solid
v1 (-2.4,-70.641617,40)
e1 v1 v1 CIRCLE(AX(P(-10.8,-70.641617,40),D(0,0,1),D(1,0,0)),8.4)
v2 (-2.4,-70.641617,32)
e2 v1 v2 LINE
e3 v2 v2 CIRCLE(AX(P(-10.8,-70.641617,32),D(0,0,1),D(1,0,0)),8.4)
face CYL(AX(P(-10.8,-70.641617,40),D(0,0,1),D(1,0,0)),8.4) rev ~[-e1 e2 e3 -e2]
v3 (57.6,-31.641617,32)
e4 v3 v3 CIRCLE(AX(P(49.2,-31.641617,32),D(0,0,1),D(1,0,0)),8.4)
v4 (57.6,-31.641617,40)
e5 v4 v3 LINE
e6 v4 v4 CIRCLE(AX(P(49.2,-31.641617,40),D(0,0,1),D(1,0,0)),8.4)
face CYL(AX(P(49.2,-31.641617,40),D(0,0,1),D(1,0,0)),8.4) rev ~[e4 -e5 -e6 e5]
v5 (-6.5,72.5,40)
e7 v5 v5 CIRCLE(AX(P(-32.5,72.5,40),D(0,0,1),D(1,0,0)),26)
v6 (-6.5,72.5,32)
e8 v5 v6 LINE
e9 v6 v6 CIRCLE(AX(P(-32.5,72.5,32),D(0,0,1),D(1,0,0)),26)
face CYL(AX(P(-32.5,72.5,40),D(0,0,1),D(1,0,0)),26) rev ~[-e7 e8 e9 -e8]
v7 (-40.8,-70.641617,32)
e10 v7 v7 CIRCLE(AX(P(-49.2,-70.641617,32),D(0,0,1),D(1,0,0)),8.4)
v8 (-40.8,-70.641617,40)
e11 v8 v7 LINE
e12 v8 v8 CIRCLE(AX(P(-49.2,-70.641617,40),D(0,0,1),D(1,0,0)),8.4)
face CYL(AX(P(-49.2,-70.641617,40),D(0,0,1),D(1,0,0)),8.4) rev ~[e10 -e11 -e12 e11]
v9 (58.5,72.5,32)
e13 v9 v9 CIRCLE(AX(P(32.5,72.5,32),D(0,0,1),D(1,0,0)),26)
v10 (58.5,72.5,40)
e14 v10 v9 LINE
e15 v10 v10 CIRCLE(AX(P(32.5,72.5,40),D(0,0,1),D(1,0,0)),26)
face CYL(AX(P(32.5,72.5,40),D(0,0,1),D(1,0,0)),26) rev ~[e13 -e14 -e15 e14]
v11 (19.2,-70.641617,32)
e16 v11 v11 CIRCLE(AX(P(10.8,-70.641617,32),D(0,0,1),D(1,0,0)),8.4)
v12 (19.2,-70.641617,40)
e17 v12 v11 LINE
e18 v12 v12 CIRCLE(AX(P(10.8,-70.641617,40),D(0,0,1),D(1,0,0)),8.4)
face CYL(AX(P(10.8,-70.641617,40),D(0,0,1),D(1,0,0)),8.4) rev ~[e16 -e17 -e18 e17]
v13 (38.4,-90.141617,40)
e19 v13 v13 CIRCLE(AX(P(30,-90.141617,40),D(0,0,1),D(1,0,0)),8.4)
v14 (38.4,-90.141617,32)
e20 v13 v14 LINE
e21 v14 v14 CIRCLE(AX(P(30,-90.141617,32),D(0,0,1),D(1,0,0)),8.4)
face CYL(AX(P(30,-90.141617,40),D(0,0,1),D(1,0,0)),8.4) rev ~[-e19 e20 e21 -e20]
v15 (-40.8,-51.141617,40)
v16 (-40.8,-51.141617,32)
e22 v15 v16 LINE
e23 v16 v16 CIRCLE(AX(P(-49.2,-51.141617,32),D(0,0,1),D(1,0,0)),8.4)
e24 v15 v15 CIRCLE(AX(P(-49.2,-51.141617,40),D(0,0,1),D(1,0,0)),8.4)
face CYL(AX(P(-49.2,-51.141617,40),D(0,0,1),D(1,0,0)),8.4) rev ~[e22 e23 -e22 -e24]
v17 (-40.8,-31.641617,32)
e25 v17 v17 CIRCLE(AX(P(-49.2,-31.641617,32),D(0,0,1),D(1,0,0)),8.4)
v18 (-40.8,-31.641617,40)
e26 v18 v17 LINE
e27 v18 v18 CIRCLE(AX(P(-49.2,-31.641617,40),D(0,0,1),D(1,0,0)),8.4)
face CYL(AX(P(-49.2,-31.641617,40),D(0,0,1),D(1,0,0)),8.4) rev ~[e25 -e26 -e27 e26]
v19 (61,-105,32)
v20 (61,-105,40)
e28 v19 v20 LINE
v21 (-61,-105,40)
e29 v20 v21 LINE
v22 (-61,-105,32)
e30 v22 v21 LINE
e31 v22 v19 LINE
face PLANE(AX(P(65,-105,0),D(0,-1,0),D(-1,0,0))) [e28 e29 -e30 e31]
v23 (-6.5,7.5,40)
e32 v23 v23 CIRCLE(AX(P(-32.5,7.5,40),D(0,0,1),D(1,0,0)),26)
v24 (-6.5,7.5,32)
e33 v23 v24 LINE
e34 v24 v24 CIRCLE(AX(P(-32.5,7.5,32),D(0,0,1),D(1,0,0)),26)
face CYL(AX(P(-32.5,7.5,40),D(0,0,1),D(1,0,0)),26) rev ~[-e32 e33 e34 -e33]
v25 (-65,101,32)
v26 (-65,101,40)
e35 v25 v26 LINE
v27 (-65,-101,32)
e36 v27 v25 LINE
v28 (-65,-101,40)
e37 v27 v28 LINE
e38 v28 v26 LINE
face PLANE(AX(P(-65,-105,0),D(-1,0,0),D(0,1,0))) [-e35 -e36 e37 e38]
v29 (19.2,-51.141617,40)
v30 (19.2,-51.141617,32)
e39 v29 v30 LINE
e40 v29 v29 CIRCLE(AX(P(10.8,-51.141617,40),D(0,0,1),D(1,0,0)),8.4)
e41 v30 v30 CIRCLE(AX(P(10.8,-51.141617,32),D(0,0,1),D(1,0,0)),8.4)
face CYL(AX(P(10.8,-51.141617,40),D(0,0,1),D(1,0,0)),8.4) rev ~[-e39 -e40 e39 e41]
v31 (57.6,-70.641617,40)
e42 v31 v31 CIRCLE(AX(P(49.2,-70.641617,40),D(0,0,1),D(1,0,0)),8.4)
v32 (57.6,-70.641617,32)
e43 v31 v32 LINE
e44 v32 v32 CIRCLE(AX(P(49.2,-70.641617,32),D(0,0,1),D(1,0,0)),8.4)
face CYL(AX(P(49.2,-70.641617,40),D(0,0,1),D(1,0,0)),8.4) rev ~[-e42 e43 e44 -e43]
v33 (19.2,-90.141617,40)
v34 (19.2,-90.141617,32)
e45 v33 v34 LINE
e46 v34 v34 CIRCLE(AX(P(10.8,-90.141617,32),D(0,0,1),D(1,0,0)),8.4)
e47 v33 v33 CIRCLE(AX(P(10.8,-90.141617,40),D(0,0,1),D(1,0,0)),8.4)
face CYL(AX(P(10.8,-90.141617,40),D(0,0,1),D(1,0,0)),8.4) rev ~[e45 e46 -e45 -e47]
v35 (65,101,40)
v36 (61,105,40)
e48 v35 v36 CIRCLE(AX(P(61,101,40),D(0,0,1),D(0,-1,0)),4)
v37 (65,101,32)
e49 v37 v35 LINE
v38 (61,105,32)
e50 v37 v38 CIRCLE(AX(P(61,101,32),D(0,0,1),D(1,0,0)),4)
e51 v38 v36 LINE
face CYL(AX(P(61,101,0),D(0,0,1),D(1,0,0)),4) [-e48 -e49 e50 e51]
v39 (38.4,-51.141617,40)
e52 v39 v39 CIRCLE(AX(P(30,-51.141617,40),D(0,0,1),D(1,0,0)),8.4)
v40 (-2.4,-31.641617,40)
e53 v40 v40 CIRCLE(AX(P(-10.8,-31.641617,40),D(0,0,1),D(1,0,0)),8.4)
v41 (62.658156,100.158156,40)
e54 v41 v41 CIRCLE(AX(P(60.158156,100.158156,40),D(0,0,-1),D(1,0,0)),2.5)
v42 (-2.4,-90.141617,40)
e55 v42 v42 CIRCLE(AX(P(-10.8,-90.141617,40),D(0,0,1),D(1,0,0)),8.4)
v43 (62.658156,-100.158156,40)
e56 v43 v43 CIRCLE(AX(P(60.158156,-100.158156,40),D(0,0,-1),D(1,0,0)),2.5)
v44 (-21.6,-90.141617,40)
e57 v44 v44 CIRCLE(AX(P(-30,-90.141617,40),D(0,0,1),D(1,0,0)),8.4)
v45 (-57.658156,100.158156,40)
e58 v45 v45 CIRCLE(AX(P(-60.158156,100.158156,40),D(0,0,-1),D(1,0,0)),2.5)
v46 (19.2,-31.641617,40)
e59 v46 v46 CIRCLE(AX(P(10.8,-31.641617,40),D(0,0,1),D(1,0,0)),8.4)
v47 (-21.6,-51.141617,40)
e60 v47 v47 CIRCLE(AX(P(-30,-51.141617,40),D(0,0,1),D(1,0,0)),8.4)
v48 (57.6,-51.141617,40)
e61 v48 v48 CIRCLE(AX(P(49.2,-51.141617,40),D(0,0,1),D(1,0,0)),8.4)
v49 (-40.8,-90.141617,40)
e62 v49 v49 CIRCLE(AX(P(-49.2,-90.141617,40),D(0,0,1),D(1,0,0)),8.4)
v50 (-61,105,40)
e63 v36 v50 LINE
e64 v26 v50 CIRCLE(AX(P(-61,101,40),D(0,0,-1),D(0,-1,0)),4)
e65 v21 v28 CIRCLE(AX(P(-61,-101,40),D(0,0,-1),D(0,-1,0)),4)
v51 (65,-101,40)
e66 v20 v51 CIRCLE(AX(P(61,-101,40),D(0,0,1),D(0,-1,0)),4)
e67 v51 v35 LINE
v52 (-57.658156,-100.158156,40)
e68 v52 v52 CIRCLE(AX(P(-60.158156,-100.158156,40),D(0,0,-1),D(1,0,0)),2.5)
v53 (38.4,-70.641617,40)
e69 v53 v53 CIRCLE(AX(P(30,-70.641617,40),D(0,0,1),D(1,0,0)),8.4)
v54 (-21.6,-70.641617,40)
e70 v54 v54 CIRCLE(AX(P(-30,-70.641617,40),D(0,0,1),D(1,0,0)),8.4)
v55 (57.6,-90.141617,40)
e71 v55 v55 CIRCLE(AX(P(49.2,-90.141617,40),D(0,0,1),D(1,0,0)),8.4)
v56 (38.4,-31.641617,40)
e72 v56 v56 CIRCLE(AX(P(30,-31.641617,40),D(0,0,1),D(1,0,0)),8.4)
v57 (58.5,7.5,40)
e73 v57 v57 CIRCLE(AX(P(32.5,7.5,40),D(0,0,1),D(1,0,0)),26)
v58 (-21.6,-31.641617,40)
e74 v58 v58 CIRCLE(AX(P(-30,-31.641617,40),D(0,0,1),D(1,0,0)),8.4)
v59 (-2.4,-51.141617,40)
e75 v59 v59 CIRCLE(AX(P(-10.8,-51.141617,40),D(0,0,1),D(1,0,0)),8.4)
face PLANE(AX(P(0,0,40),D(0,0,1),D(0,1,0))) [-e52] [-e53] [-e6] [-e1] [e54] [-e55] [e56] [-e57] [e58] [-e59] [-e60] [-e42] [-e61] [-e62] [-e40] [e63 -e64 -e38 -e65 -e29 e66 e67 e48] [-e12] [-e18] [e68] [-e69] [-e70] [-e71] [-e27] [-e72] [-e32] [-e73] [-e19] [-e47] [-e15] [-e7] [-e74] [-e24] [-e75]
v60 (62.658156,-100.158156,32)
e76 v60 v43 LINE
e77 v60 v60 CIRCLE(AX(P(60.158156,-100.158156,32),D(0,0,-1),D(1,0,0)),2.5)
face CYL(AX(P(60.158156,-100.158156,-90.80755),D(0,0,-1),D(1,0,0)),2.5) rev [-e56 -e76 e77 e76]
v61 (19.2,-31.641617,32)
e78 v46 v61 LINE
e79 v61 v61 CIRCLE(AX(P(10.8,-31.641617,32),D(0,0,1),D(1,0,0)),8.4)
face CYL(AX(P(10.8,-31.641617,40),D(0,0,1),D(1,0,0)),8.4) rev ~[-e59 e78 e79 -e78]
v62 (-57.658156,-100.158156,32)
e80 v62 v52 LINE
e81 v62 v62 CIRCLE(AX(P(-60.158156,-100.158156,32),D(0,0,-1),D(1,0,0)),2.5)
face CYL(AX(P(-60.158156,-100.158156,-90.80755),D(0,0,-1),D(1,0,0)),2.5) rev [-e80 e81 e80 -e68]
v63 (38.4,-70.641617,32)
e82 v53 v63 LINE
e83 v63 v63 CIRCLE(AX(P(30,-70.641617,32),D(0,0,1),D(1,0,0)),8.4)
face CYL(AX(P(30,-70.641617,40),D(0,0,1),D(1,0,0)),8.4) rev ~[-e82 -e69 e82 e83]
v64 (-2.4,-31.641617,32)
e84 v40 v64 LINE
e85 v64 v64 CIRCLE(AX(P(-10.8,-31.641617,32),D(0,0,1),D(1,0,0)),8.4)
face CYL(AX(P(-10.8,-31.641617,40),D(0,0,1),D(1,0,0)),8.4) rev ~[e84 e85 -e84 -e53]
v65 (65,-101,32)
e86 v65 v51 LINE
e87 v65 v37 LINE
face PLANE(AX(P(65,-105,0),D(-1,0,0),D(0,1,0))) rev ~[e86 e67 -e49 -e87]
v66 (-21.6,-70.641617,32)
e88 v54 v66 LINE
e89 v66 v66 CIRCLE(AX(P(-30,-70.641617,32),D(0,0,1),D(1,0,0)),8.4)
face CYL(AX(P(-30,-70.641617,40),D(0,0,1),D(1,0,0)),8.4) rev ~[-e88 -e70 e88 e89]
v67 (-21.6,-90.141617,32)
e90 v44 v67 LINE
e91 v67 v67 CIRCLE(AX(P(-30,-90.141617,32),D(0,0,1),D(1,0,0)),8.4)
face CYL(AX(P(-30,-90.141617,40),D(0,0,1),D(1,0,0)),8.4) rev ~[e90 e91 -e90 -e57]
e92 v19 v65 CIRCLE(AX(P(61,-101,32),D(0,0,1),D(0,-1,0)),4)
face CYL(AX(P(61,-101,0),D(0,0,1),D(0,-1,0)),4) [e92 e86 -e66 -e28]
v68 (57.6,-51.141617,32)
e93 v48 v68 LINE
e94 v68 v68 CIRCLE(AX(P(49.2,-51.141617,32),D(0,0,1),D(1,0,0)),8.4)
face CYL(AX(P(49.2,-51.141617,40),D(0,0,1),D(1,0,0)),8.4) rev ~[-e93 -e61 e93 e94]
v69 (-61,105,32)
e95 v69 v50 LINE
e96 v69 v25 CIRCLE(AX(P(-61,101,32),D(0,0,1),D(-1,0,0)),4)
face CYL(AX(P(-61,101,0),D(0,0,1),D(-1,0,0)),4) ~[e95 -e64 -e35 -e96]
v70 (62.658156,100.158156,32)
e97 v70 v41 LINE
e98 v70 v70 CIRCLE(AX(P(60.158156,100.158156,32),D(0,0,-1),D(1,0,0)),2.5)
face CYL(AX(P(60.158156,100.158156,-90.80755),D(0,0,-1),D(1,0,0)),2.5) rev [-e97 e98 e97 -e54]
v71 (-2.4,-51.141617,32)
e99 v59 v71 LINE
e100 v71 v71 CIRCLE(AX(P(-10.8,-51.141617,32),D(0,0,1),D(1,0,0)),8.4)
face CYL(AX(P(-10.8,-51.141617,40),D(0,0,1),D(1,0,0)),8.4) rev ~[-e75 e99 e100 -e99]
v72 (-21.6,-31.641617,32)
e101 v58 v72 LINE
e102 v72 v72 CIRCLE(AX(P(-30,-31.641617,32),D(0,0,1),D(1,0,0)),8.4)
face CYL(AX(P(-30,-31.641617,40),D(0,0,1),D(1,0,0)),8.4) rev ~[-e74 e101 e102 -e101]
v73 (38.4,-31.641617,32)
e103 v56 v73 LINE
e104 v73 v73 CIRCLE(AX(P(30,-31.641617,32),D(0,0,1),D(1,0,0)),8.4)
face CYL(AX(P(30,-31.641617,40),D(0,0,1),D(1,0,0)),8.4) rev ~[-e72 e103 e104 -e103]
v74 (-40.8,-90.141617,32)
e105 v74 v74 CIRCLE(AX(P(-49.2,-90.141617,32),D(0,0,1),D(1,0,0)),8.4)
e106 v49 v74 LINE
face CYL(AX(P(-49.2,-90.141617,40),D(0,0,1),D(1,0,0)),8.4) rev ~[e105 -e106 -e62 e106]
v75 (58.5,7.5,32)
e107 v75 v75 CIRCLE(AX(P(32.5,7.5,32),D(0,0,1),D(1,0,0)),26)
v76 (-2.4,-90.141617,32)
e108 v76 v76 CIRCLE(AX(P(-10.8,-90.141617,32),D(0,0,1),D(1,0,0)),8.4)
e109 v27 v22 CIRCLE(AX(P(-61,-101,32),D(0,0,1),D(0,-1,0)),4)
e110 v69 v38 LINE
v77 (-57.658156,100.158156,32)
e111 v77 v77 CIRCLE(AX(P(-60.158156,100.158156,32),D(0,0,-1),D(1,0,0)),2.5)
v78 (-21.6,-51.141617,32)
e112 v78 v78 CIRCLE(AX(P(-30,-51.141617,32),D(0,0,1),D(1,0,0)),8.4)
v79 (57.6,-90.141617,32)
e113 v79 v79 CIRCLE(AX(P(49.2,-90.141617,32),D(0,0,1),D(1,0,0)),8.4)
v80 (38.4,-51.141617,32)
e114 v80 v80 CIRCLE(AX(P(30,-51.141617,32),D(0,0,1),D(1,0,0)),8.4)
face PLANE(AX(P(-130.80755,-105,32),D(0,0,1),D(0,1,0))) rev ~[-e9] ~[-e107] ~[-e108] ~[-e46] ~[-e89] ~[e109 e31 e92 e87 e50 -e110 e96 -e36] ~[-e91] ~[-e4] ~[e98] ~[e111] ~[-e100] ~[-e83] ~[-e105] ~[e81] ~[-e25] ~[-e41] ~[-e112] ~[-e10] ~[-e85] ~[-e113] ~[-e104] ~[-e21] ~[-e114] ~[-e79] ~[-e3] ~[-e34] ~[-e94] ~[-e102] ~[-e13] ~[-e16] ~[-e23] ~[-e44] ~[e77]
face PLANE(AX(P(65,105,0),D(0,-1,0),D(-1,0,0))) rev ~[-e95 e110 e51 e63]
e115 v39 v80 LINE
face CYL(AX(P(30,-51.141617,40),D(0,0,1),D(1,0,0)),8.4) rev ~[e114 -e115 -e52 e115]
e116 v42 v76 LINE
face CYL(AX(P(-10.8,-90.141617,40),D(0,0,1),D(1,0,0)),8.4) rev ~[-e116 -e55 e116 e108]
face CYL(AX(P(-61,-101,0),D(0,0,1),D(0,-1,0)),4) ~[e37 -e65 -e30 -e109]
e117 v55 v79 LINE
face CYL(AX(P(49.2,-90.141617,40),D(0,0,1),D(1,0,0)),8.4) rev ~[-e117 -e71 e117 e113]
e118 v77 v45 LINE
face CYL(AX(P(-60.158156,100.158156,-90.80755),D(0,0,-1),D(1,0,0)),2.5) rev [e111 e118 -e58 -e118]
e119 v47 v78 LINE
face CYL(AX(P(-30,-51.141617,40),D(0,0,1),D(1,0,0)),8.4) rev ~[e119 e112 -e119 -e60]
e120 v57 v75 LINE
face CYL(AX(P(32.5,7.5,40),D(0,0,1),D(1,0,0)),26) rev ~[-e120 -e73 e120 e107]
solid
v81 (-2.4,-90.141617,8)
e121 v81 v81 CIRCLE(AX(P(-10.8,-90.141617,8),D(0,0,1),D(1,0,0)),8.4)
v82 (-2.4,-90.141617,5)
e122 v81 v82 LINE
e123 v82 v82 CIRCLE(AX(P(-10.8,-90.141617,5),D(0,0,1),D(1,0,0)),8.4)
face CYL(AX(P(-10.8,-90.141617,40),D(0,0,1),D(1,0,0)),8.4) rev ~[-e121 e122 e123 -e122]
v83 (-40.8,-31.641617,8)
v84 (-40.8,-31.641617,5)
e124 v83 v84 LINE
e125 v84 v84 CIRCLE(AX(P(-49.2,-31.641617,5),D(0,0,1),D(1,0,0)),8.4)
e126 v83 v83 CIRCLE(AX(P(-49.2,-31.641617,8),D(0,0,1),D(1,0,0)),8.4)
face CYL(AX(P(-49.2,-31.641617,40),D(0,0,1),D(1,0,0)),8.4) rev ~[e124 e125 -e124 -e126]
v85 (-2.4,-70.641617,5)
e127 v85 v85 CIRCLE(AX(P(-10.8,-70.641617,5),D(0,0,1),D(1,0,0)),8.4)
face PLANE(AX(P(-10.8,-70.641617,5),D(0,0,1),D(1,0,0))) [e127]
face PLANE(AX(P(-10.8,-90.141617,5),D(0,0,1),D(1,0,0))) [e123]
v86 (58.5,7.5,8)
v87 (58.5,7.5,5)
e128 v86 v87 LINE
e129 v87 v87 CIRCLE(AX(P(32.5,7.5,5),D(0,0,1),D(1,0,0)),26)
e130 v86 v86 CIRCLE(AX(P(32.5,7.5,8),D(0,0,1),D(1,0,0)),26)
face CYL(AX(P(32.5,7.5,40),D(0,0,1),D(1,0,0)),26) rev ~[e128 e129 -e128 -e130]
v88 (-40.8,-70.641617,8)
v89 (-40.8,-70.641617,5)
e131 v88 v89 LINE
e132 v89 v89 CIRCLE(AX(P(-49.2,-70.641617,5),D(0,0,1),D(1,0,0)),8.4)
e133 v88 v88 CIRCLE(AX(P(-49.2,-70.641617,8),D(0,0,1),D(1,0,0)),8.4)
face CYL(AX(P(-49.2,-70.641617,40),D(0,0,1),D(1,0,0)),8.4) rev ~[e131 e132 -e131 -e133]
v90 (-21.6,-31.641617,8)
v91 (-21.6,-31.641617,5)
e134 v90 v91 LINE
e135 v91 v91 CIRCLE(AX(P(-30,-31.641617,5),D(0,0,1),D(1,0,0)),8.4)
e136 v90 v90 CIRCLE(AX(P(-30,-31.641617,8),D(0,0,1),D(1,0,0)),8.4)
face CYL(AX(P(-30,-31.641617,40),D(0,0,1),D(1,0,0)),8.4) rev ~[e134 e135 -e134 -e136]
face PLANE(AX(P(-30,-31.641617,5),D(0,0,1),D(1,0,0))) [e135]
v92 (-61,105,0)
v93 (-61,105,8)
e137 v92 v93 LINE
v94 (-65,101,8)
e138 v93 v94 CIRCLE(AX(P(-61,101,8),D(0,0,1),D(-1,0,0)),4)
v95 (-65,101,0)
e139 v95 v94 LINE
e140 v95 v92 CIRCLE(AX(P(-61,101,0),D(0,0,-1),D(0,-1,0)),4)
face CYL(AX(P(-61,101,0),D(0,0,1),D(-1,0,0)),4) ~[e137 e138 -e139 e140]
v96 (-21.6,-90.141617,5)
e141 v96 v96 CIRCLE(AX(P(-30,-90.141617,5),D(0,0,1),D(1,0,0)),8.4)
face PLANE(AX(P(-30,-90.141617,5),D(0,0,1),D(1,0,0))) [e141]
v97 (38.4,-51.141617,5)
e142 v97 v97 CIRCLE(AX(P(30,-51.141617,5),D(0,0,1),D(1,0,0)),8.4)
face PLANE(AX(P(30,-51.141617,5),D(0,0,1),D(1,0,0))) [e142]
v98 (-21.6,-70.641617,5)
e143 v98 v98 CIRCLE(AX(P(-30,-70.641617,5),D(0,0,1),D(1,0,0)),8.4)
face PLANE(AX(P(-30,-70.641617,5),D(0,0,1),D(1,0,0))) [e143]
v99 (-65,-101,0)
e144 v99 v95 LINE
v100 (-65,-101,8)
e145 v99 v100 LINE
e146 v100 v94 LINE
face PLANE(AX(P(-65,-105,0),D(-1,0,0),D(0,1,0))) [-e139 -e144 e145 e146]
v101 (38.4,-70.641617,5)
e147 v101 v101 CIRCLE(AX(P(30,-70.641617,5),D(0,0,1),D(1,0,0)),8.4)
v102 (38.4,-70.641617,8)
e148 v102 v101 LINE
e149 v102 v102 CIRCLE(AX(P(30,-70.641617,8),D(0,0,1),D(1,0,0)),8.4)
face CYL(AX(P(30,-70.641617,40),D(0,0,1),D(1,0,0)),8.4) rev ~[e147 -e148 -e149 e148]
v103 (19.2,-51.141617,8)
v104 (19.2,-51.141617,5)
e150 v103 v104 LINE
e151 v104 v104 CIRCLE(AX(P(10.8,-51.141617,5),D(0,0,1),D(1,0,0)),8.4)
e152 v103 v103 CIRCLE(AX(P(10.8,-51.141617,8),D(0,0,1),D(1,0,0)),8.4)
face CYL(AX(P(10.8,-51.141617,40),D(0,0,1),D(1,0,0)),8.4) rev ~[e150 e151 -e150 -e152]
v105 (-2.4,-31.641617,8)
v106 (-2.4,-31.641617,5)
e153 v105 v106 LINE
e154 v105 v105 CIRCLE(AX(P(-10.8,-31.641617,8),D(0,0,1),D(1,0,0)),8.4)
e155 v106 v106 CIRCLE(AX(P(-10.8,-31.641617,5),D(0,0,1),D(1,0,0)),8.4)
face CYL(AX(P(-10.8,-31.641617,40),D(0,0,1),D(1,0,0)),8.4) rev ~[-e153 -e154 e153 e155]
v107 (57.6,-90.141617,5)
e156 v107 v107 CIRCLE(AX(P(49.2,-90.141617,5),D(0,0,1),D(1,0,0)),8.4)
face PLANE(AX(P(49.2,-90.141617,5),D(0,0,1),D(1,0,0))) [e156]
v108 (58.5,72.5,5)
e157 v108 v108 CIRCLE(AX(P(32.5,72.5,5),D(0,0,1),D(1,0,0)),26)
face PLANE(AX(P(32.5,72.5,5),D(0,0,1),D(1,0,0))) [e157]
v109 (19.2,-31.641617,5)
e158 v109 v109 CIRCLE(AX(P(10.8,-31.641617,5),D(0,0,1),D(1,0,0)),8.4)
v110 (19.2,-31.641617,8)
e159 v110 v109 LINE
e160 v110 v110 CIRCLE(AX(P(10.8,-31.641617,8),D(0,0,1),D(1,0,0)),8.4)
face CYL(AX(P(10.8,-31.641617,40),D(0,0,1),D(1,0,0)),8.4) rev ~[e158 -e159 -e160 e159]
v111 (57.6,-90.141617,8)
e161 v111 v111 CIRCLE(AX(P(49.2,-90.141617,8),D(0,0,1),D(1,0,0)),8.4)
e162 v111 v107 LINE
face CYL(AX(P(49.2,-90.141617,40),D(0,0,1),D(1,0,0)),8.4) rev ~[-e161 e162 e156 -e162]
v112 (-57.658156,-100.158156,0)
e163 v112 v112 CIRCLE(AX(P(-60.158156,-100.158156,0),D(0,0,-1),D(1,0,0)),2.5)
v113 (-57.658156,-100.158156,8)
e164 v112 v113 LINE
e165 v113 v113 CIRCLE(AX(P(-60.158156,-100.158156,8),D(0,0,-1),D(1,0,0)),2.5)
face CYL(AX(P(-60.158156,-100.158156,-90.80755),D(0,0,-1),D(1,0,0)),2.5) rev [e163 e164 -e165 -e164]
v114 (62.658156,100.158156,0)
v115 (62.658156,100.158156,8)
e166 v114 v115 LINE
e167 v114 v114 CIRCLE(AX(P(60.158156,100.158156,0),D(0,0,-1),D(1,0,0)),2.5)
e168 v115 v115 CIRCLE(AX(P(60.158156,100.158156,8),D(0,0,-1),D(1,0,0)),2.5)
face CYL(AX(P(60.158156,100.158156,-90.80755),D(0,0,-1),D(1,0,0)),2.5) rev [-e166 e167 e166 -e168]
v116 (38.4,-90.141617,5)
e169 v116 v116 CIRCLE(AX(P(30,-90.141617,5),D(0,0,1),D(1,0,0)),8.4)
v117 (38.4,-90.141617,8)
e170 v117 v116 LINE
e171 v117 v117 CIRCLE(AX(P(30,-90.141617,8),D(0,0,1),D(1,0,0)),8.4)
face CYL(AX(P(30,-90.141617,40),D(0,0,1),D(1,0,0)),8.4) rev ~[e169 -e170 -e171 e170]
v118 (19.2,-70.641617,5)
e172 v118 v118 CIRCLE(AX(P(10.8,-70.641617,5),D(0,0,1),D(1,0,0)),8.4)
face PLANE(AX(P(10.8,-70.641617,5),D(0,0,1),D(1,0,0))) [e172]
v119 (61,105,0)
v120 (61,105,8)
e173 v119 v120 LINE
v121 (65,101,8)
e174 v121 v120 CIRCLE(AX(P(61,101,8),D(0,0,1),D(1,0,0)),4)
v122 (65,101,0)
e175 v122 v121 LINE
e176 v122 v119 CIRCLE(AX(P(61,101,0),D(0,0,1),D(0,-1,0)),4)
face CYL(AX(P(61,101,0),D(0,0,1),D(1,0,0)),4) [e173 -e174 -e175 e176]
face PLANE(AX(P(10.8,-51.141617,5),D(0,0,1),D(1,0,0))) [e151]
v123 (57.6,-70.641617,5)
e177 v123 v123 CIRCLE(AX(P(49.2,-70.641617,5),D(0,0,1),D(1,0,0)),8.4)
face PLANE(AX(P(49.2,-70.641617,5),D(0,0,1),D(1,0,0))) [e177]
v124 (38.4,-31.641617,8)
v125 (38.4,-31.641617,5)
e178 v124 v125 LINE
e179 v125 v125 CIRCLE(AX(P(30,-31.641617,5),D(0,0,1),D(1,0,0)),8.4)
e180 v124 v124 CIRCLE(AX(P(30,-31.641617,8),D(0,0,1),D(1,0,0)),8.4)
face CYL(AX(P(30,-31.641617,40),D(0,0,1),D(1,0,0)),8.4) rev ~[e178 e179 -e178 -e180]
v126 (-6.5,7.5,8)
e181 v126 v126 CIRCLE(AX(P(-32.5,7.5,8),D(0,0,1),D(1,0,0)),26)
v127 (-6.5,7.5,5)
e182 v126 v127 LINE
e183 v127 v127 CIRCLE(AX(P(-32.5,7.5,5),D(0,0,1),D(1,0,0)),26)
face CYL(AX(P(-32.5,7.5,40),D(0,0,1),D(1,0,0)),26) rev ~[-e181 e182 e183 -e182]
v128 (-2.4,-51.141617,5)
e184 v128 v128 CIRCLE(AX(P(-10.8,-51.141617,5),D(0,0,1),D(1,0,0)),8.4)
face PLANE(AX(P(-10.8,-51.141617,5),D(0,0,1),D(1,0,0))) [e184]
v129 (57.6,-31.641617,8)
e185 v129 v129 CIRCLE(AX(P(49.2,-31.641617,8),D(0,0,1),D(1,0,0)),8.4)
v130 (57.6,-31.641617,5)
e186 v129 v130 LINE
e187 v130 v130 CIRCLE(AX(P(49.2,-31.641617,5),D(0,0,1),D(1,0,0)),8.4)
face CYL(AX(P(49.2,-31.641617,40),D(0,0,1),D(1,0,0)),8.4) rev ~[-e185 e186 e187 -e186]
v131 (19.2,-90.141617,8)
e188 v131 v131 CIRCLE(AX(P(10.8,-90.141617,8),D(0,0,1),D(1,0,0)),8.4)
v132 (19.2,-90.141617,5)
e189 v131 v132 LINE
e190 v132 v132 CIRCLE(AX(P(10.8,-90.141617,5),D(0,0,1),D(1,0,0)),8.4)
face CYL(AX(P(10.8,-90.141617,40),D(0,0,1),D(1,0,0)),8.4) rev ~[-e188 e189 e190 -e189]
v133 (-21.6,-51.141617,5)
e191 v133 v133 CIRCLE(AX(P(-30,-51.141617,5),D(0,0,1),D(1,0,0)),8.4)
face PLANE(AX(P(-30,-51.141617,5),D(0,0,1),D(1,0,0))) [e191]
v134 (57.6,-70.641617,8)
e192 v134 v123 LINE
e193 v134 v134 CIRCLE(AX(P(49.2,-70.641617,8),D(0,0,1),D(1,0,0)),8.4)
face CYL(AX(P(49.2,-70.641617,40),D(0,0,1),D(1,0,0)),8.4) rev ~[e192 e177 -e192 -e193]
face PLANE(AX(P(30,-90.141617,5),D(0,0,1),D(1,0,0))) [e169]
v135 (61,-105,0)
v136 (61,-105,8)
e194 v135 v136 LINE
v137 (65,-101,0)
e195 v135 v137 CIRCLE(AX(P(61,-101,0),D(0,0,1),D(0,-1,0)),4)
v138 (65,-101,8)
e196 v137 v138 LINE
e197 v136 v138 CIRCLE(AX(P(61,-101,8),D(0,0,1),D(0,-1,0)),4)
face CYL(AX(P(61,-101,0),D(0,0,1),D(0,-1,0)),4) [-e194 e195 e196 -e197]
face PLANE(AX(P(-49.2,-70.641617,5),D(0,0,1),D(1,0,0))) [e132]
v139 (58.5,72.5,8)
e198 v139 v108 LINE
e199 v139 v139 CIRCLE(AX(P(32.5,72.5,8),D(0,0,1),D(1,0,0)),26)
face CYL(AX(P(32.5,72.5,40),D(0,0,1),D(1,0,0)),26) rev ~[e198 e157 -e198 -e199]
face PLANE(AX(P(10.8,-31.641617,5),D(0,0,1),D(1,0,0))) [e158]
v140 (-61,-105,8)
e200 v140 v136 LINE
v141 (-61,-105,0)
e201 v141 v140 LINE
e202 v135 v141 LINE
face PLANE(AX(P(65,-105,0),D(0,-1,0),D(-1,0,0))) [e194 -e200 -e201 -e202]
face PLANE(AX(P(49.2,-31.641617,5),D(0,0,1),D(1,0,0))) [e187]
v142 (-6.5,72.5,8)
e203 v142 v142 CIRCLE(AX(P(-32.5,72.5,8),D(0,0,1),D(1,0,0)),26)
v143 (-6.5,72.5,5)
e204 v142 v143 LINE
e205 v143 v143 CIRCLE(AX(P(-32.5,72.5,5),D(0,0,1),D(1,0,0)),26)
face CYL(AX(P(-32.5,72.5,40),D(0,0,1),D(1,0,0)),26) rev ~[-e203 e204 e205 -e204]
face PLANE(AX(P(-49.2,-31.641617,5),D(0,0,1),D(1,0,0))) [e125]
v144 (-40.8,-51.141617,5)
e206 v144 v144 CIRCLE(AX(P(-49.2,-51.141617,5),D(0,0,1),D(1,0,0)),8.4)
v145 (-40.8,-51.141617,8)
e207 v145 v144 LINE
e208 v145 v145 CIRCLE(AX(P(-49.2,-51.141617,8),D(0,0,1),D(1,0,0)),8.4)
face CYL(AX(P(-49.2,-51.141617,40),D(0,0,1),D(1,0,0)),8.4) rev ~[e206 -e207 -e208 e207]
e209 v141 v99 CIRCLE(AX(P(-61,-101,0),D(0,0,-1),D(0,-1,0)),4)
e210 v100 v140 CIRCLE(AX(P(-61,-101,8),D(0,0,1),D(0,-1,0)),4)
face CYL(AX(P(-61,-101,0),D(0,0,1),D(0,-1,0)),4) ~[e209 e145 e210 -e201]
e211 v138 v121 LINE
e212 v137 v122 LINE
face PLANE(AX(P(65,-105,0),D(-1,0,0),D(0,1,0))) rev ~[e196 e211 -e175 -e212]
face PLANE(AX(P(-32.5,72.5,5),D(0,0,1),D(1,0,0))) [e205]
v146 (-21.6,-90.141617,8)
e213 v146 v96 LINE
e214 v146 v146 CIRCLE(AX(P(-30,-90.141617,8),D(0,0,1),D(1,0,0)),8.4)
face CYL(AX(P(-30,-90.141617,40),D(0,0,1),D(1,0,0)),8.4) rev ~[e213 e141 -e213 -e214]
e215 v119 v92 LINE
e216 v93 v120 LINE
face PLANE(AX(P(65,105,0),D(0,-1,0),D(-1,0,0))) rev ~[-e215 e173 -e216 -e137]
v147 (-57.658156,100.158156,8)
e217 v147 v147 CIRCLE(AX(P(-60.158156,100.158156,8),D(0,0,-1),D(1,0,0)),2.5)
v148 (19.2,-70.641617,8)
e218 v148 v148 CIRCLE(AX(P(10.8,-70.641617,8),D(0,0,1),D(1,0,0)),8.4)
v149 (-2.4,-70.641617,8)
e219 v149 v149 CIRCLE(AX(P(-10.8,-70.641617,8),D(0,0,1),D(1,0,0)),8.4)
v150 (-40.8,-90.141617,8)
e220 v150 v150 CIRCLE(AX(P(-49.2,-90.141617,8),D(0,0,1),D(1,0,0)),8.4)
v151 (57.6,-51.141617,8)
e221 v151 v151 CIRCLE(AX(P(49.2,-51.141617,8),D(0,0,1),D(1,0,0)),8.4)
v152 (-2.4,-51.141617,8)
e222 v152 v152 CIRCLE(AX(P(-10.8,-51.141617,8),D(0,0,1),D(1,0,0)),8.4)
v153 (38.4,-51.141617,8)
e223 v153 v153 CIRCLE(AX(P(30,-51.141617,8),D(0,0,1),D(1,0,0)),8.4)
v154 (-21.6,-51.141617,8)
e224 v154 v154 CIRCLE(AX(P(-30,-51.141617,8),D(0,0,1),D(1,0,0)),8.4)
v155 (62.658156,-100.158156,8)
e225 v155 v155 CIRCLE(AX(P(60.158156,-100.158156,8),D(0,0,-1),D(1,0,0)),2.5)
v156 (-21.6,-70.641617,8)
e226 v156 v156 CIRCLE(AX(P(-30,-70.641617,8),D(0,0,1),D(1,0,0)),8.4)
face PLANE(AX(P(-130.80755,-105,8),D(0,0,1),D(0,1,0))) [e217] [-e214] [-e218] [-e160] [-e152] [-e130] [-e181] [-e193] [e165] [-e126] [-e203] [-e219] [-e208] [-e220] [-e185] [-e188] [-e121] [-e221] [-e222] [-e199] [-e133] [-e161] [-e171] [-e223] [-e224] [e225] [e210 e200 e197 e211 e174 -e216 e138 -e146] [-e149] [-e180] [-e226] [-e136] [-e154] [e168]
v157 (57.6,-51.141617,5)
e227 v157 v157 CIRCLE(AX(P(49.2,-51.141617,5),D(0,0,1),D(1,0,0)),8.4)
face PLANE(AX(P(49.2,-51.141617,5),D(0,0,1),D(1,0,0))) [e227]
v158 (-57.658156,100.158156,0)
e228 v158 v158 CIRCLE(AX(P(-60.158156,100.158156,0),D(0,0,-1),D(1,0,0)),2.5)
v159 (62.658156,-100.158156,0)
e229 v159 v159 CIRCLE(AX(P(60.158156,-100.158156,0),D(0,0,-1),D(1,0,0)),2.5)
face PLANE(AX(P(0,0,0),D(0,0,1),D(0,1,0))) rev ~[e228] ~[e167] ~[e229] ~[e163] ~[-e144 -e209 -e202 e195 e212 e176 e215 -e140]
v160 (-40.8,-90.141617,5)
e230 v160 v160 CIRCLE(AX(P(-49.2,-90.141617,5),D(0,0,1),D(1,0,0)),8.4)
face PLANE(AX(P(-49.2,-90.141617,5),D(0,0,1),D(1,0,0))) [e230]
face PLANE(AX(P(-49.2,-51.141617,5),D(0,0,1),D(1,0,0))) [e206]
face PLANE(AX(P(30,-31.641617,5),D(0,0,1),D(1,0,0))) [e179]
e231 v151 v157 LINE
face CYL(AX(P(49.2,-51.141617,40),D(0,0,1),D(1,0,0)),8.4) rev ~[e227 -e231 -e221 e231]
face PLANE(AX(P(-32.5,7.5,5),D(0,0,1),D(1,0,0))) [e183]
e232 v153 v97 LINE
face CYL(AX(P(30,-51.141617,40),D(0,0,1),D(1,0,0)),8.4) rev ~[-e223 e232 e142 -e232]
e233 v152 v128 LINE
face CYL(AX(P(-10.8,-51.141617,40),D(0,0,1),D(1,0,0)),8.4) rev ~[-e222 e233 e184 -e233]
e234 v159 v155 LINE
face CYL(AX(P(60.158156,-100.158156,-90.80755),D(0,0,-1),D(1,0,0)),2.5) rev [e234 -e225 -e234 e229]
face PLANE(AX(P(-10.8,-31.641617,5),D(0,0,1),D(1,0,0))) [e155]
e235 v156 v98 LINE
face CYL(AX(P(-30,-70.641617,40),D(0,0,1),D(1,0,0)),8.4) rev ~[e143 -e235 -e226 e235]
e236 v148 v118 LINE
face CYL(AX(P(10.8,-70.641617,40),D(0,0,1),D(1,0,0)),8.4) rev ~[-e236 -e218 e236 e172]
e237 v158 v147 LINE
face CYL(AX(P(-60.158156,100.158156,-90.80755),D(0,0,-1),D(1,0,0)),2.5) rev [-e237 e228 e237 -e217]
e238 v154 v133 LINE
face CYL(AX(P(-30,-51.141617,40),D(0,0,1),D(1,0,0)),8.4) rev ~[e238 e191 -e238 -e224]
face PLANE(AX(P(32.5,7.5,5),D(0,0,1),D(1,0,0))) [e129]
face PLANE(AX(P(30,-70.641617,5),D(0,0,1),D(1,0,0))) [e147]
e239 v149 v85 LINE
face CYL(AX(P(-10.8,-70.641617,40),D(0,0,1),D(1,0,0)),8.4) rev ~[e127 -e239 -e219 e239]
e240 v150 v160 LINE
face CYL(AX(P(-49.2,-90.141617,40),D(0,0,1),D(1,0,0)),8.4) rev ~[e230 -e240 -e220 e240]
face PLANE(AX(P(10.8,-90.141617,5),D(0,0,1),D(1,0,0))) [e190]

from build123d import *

# Parameters (mm, degrees)
SKETCH1_W                          = 210
SKETCH1_H                          = 130
F_120_X_200_X_67_TH_DEPTH          = 40
SKETCH2_R                          = 26
SKETCH2_R_2                        = 8.4
F_16_8_D_AND_52_D_TUBE_HOLES_DEPTH = 35
F_4_MM_R_FILET_R                   = 4
CUT_EXTRUDE1_DEPTH                 = 130.807549857
CUT_EXTRUDE1_DEPTH_BACK            = 130.807549857
SKETCH3_W                          = 210
SKETCH3_H                          = 24
CUT_EXTRUDE2_DEPTH                 = 130.807549857
CUT_EXTRUDE2_DEPTH_BACK            = 130.807549857
SKETCH2_3_R                        = 2.5


with BuildPart() as part:
    # Sketch1 → 120 x 200 x 67 th (new body)
    with BuildSketch(Plane(origin=(0, 0, 0), x_dir=(0, 1, 0), z_dir=(0, 0, 1))):
        Rectangle(SKETCH1_W, SKETCH1_H)
    extrude(amount=F_120_X_200_X_67_TH_DEPTH)

    # Sketch2 → 16.8 D and 52 D tube holes (cut)
    with BuildSketch(Plane.XY.offset(40)):
        with Locations((-32.5, 72.5)):
            Circle(SKETCH2_R)
        with Locations((10.8, -31.641617153)):
            Circle(SKETCH2_R_2)
        with Locations((30, -31.641617153)):
            Circle(SKETCH2_R_2)
        with Locations((49.2, -31.641617153)):
            Circle(SKETCH2_R_2)
        with Locations((-10.8, -31.641617153)):
            Circle(SKETCH2_R_2)
        with Locations((-30, -31.641617153)):
            Circle(SKETCH2_R_2)
        with Locations((-49.2, -31.641617153)):
            Circle(SKETCH2_R_2)
        with Locations((10.8, -51.141617153)):
            Circle(SKETCH2_R_2)
        with Locations((30, -51.141617153)):
            Circle(SKETCH2_R_2)
        with Locations((49.2, -51.141617153)):
            Circle(SKETCH2_R_2)
        with Locations((-10.8, -51.141617153)):
            Circle(SKETCH2_R_2)
        with Locations((-30, -51.141617153)):
            Circle(SKETCH2_R_2)
        with Locations((-49.2, -51.141617153)):
            Circle(SKETCH2_R_2)
        with Locations((10.8, -70.641617153)):
            Circle(SKETCH2_R_2)
        with Locations((30, -70.641617153)):
            Circle(SKETCH2_R_2)
        with Locations((49.2, -70.641617153)):
            Circle(SKETCH2_R_2)
        with Locations((-10.8, -70.641617153)):
            Circle(SKETCH2_R_2)
        with Locations((-30, -70.641617153)):
            Circle(SKETCH2_R_2)
        with Locations((-49.2, -70.641617153)):
            Circle(SKETCH2_R_2)
        with Locations((10.8, -90.141617153)):
            Circle(SKETCH2_R_2)
        with Locations((30, -90.141617153)):
            Circle(SKETCH2_R_2)
        with Locations((49.2, -90.141617153)):
            Circle(SKETCH2_R_2)
        with Locations((-10.8, -90.141617153)):
            Circle(SKETCH2_R_2)
        with Locations((-30, -90.141617153)):
            Circle(SKETCH2_R_2)
        with Locations((-49.2, -90.141617153)):
            Circle(SKETCH2_R_2)
        with Locations((32.5, 72.5)):
            Circle(SKETCH2_R)
        with Locations((32.5, 7.5)):
            Circle(SKETCH2_R)
        with Locations((-32.5, 7.5)):
            Circle(SKETCH2_R)
    extrude(amount=-F_16_8_D_AND_52_D_TUBE_HOLES_DEPTH, mode=Mode.SUBTRACT)

    # 4 mm R filet
    f_4_mm_r_filet_edges = [part.edges().sort_by_distance(p)[0] for p in [
        (65, 105, 20),
        (65, -105, 20),
        (-65, -105, 20),
        (-65, 105, 20),
    ]]
    fillet(f_4_mm_r_filet_edges, radius=F_4_MM_R_FILET_R)

    # Sketch3 → Cut-Extrude1 (cut, two sides: drawn at the far end of the back side and taken through both)
    with BuildSketch(Plane.YZ.offset(-CUT_EXTRUDE1_DEPTH_BACK)):
        with Locations((0, 20)):
            Rectangle(SKETCH3_W, SKETCH3_H)
    extrude(amount=CUT_EXTRUDE1_DEPTH + CUT_EXTRUDE1_DEPTH_BACK, mode=Mode.SUBTRACT)


with BuildPart() as cut_extrude1_piece_1:
    # of the separate pieces the step leaves, piece 1, a body of its own (cut_extrude1_pieces)
    add(part.part.solids().sort_by_distance((65, -101, 0))[0])


with BuildPart() as cut_extrude1_piece_2:
    # of the separate pieces the step leaves, piece 2, a body of its own (cut_extrude1_pieces)
    add(part.part.solids().sort_by_distance((65, 101, 32))[0])


with BuildPart() as cut_extrude2_tool:
    # Sketch2<3> → Cut-Extrude2 (new, two sides: drawn at the far end of the back side and taken through both)
    with BuildSketch(Plane.XY.offset(40).offset(-CUT_EXTRUDE2_DEPTH_BACK)):
        with Locations((-60.158155916, -100.158155916)):
            Circle(SKETCH2_3_R)
        with Locations((60.158155916, -100.158155916)):
            Circle(SKETCH2_3_R)
        with Locations((-60.158155916, 100.158155916)):
            Circle(SKETCH2_3_R)
        with Locations((60.158155916, 100.158155916)):
            Circle(SKETCH2_3_R)
    extrude(amount=CUT_EXTRUDE2_DEPTH + CUT_EXTRUDE2_DEPTH_BACK)


with BuildPart() as cut_extrude1_piece_1_1:
    add(cut_extrude1_piece_1.part)

    # Cut-Extrude2: cut by cut_extrude2_tool
    add(cut_extrude2_tool.part, mode=Mode.SUBTRACT)


with BuildPart() as cut_extrude1_piece_2_1:
    add(cut_extrude1_piece_2.part)

    # Cut-Extrude2: cut by cut_extrude2_tool
    add(cut_extrude2_tool.part, mode=Mode.SUBTRACT)


solid = Compound([cut_extrude1_piece_1_1.part, cut_extrude1_piece_2_1.part])
